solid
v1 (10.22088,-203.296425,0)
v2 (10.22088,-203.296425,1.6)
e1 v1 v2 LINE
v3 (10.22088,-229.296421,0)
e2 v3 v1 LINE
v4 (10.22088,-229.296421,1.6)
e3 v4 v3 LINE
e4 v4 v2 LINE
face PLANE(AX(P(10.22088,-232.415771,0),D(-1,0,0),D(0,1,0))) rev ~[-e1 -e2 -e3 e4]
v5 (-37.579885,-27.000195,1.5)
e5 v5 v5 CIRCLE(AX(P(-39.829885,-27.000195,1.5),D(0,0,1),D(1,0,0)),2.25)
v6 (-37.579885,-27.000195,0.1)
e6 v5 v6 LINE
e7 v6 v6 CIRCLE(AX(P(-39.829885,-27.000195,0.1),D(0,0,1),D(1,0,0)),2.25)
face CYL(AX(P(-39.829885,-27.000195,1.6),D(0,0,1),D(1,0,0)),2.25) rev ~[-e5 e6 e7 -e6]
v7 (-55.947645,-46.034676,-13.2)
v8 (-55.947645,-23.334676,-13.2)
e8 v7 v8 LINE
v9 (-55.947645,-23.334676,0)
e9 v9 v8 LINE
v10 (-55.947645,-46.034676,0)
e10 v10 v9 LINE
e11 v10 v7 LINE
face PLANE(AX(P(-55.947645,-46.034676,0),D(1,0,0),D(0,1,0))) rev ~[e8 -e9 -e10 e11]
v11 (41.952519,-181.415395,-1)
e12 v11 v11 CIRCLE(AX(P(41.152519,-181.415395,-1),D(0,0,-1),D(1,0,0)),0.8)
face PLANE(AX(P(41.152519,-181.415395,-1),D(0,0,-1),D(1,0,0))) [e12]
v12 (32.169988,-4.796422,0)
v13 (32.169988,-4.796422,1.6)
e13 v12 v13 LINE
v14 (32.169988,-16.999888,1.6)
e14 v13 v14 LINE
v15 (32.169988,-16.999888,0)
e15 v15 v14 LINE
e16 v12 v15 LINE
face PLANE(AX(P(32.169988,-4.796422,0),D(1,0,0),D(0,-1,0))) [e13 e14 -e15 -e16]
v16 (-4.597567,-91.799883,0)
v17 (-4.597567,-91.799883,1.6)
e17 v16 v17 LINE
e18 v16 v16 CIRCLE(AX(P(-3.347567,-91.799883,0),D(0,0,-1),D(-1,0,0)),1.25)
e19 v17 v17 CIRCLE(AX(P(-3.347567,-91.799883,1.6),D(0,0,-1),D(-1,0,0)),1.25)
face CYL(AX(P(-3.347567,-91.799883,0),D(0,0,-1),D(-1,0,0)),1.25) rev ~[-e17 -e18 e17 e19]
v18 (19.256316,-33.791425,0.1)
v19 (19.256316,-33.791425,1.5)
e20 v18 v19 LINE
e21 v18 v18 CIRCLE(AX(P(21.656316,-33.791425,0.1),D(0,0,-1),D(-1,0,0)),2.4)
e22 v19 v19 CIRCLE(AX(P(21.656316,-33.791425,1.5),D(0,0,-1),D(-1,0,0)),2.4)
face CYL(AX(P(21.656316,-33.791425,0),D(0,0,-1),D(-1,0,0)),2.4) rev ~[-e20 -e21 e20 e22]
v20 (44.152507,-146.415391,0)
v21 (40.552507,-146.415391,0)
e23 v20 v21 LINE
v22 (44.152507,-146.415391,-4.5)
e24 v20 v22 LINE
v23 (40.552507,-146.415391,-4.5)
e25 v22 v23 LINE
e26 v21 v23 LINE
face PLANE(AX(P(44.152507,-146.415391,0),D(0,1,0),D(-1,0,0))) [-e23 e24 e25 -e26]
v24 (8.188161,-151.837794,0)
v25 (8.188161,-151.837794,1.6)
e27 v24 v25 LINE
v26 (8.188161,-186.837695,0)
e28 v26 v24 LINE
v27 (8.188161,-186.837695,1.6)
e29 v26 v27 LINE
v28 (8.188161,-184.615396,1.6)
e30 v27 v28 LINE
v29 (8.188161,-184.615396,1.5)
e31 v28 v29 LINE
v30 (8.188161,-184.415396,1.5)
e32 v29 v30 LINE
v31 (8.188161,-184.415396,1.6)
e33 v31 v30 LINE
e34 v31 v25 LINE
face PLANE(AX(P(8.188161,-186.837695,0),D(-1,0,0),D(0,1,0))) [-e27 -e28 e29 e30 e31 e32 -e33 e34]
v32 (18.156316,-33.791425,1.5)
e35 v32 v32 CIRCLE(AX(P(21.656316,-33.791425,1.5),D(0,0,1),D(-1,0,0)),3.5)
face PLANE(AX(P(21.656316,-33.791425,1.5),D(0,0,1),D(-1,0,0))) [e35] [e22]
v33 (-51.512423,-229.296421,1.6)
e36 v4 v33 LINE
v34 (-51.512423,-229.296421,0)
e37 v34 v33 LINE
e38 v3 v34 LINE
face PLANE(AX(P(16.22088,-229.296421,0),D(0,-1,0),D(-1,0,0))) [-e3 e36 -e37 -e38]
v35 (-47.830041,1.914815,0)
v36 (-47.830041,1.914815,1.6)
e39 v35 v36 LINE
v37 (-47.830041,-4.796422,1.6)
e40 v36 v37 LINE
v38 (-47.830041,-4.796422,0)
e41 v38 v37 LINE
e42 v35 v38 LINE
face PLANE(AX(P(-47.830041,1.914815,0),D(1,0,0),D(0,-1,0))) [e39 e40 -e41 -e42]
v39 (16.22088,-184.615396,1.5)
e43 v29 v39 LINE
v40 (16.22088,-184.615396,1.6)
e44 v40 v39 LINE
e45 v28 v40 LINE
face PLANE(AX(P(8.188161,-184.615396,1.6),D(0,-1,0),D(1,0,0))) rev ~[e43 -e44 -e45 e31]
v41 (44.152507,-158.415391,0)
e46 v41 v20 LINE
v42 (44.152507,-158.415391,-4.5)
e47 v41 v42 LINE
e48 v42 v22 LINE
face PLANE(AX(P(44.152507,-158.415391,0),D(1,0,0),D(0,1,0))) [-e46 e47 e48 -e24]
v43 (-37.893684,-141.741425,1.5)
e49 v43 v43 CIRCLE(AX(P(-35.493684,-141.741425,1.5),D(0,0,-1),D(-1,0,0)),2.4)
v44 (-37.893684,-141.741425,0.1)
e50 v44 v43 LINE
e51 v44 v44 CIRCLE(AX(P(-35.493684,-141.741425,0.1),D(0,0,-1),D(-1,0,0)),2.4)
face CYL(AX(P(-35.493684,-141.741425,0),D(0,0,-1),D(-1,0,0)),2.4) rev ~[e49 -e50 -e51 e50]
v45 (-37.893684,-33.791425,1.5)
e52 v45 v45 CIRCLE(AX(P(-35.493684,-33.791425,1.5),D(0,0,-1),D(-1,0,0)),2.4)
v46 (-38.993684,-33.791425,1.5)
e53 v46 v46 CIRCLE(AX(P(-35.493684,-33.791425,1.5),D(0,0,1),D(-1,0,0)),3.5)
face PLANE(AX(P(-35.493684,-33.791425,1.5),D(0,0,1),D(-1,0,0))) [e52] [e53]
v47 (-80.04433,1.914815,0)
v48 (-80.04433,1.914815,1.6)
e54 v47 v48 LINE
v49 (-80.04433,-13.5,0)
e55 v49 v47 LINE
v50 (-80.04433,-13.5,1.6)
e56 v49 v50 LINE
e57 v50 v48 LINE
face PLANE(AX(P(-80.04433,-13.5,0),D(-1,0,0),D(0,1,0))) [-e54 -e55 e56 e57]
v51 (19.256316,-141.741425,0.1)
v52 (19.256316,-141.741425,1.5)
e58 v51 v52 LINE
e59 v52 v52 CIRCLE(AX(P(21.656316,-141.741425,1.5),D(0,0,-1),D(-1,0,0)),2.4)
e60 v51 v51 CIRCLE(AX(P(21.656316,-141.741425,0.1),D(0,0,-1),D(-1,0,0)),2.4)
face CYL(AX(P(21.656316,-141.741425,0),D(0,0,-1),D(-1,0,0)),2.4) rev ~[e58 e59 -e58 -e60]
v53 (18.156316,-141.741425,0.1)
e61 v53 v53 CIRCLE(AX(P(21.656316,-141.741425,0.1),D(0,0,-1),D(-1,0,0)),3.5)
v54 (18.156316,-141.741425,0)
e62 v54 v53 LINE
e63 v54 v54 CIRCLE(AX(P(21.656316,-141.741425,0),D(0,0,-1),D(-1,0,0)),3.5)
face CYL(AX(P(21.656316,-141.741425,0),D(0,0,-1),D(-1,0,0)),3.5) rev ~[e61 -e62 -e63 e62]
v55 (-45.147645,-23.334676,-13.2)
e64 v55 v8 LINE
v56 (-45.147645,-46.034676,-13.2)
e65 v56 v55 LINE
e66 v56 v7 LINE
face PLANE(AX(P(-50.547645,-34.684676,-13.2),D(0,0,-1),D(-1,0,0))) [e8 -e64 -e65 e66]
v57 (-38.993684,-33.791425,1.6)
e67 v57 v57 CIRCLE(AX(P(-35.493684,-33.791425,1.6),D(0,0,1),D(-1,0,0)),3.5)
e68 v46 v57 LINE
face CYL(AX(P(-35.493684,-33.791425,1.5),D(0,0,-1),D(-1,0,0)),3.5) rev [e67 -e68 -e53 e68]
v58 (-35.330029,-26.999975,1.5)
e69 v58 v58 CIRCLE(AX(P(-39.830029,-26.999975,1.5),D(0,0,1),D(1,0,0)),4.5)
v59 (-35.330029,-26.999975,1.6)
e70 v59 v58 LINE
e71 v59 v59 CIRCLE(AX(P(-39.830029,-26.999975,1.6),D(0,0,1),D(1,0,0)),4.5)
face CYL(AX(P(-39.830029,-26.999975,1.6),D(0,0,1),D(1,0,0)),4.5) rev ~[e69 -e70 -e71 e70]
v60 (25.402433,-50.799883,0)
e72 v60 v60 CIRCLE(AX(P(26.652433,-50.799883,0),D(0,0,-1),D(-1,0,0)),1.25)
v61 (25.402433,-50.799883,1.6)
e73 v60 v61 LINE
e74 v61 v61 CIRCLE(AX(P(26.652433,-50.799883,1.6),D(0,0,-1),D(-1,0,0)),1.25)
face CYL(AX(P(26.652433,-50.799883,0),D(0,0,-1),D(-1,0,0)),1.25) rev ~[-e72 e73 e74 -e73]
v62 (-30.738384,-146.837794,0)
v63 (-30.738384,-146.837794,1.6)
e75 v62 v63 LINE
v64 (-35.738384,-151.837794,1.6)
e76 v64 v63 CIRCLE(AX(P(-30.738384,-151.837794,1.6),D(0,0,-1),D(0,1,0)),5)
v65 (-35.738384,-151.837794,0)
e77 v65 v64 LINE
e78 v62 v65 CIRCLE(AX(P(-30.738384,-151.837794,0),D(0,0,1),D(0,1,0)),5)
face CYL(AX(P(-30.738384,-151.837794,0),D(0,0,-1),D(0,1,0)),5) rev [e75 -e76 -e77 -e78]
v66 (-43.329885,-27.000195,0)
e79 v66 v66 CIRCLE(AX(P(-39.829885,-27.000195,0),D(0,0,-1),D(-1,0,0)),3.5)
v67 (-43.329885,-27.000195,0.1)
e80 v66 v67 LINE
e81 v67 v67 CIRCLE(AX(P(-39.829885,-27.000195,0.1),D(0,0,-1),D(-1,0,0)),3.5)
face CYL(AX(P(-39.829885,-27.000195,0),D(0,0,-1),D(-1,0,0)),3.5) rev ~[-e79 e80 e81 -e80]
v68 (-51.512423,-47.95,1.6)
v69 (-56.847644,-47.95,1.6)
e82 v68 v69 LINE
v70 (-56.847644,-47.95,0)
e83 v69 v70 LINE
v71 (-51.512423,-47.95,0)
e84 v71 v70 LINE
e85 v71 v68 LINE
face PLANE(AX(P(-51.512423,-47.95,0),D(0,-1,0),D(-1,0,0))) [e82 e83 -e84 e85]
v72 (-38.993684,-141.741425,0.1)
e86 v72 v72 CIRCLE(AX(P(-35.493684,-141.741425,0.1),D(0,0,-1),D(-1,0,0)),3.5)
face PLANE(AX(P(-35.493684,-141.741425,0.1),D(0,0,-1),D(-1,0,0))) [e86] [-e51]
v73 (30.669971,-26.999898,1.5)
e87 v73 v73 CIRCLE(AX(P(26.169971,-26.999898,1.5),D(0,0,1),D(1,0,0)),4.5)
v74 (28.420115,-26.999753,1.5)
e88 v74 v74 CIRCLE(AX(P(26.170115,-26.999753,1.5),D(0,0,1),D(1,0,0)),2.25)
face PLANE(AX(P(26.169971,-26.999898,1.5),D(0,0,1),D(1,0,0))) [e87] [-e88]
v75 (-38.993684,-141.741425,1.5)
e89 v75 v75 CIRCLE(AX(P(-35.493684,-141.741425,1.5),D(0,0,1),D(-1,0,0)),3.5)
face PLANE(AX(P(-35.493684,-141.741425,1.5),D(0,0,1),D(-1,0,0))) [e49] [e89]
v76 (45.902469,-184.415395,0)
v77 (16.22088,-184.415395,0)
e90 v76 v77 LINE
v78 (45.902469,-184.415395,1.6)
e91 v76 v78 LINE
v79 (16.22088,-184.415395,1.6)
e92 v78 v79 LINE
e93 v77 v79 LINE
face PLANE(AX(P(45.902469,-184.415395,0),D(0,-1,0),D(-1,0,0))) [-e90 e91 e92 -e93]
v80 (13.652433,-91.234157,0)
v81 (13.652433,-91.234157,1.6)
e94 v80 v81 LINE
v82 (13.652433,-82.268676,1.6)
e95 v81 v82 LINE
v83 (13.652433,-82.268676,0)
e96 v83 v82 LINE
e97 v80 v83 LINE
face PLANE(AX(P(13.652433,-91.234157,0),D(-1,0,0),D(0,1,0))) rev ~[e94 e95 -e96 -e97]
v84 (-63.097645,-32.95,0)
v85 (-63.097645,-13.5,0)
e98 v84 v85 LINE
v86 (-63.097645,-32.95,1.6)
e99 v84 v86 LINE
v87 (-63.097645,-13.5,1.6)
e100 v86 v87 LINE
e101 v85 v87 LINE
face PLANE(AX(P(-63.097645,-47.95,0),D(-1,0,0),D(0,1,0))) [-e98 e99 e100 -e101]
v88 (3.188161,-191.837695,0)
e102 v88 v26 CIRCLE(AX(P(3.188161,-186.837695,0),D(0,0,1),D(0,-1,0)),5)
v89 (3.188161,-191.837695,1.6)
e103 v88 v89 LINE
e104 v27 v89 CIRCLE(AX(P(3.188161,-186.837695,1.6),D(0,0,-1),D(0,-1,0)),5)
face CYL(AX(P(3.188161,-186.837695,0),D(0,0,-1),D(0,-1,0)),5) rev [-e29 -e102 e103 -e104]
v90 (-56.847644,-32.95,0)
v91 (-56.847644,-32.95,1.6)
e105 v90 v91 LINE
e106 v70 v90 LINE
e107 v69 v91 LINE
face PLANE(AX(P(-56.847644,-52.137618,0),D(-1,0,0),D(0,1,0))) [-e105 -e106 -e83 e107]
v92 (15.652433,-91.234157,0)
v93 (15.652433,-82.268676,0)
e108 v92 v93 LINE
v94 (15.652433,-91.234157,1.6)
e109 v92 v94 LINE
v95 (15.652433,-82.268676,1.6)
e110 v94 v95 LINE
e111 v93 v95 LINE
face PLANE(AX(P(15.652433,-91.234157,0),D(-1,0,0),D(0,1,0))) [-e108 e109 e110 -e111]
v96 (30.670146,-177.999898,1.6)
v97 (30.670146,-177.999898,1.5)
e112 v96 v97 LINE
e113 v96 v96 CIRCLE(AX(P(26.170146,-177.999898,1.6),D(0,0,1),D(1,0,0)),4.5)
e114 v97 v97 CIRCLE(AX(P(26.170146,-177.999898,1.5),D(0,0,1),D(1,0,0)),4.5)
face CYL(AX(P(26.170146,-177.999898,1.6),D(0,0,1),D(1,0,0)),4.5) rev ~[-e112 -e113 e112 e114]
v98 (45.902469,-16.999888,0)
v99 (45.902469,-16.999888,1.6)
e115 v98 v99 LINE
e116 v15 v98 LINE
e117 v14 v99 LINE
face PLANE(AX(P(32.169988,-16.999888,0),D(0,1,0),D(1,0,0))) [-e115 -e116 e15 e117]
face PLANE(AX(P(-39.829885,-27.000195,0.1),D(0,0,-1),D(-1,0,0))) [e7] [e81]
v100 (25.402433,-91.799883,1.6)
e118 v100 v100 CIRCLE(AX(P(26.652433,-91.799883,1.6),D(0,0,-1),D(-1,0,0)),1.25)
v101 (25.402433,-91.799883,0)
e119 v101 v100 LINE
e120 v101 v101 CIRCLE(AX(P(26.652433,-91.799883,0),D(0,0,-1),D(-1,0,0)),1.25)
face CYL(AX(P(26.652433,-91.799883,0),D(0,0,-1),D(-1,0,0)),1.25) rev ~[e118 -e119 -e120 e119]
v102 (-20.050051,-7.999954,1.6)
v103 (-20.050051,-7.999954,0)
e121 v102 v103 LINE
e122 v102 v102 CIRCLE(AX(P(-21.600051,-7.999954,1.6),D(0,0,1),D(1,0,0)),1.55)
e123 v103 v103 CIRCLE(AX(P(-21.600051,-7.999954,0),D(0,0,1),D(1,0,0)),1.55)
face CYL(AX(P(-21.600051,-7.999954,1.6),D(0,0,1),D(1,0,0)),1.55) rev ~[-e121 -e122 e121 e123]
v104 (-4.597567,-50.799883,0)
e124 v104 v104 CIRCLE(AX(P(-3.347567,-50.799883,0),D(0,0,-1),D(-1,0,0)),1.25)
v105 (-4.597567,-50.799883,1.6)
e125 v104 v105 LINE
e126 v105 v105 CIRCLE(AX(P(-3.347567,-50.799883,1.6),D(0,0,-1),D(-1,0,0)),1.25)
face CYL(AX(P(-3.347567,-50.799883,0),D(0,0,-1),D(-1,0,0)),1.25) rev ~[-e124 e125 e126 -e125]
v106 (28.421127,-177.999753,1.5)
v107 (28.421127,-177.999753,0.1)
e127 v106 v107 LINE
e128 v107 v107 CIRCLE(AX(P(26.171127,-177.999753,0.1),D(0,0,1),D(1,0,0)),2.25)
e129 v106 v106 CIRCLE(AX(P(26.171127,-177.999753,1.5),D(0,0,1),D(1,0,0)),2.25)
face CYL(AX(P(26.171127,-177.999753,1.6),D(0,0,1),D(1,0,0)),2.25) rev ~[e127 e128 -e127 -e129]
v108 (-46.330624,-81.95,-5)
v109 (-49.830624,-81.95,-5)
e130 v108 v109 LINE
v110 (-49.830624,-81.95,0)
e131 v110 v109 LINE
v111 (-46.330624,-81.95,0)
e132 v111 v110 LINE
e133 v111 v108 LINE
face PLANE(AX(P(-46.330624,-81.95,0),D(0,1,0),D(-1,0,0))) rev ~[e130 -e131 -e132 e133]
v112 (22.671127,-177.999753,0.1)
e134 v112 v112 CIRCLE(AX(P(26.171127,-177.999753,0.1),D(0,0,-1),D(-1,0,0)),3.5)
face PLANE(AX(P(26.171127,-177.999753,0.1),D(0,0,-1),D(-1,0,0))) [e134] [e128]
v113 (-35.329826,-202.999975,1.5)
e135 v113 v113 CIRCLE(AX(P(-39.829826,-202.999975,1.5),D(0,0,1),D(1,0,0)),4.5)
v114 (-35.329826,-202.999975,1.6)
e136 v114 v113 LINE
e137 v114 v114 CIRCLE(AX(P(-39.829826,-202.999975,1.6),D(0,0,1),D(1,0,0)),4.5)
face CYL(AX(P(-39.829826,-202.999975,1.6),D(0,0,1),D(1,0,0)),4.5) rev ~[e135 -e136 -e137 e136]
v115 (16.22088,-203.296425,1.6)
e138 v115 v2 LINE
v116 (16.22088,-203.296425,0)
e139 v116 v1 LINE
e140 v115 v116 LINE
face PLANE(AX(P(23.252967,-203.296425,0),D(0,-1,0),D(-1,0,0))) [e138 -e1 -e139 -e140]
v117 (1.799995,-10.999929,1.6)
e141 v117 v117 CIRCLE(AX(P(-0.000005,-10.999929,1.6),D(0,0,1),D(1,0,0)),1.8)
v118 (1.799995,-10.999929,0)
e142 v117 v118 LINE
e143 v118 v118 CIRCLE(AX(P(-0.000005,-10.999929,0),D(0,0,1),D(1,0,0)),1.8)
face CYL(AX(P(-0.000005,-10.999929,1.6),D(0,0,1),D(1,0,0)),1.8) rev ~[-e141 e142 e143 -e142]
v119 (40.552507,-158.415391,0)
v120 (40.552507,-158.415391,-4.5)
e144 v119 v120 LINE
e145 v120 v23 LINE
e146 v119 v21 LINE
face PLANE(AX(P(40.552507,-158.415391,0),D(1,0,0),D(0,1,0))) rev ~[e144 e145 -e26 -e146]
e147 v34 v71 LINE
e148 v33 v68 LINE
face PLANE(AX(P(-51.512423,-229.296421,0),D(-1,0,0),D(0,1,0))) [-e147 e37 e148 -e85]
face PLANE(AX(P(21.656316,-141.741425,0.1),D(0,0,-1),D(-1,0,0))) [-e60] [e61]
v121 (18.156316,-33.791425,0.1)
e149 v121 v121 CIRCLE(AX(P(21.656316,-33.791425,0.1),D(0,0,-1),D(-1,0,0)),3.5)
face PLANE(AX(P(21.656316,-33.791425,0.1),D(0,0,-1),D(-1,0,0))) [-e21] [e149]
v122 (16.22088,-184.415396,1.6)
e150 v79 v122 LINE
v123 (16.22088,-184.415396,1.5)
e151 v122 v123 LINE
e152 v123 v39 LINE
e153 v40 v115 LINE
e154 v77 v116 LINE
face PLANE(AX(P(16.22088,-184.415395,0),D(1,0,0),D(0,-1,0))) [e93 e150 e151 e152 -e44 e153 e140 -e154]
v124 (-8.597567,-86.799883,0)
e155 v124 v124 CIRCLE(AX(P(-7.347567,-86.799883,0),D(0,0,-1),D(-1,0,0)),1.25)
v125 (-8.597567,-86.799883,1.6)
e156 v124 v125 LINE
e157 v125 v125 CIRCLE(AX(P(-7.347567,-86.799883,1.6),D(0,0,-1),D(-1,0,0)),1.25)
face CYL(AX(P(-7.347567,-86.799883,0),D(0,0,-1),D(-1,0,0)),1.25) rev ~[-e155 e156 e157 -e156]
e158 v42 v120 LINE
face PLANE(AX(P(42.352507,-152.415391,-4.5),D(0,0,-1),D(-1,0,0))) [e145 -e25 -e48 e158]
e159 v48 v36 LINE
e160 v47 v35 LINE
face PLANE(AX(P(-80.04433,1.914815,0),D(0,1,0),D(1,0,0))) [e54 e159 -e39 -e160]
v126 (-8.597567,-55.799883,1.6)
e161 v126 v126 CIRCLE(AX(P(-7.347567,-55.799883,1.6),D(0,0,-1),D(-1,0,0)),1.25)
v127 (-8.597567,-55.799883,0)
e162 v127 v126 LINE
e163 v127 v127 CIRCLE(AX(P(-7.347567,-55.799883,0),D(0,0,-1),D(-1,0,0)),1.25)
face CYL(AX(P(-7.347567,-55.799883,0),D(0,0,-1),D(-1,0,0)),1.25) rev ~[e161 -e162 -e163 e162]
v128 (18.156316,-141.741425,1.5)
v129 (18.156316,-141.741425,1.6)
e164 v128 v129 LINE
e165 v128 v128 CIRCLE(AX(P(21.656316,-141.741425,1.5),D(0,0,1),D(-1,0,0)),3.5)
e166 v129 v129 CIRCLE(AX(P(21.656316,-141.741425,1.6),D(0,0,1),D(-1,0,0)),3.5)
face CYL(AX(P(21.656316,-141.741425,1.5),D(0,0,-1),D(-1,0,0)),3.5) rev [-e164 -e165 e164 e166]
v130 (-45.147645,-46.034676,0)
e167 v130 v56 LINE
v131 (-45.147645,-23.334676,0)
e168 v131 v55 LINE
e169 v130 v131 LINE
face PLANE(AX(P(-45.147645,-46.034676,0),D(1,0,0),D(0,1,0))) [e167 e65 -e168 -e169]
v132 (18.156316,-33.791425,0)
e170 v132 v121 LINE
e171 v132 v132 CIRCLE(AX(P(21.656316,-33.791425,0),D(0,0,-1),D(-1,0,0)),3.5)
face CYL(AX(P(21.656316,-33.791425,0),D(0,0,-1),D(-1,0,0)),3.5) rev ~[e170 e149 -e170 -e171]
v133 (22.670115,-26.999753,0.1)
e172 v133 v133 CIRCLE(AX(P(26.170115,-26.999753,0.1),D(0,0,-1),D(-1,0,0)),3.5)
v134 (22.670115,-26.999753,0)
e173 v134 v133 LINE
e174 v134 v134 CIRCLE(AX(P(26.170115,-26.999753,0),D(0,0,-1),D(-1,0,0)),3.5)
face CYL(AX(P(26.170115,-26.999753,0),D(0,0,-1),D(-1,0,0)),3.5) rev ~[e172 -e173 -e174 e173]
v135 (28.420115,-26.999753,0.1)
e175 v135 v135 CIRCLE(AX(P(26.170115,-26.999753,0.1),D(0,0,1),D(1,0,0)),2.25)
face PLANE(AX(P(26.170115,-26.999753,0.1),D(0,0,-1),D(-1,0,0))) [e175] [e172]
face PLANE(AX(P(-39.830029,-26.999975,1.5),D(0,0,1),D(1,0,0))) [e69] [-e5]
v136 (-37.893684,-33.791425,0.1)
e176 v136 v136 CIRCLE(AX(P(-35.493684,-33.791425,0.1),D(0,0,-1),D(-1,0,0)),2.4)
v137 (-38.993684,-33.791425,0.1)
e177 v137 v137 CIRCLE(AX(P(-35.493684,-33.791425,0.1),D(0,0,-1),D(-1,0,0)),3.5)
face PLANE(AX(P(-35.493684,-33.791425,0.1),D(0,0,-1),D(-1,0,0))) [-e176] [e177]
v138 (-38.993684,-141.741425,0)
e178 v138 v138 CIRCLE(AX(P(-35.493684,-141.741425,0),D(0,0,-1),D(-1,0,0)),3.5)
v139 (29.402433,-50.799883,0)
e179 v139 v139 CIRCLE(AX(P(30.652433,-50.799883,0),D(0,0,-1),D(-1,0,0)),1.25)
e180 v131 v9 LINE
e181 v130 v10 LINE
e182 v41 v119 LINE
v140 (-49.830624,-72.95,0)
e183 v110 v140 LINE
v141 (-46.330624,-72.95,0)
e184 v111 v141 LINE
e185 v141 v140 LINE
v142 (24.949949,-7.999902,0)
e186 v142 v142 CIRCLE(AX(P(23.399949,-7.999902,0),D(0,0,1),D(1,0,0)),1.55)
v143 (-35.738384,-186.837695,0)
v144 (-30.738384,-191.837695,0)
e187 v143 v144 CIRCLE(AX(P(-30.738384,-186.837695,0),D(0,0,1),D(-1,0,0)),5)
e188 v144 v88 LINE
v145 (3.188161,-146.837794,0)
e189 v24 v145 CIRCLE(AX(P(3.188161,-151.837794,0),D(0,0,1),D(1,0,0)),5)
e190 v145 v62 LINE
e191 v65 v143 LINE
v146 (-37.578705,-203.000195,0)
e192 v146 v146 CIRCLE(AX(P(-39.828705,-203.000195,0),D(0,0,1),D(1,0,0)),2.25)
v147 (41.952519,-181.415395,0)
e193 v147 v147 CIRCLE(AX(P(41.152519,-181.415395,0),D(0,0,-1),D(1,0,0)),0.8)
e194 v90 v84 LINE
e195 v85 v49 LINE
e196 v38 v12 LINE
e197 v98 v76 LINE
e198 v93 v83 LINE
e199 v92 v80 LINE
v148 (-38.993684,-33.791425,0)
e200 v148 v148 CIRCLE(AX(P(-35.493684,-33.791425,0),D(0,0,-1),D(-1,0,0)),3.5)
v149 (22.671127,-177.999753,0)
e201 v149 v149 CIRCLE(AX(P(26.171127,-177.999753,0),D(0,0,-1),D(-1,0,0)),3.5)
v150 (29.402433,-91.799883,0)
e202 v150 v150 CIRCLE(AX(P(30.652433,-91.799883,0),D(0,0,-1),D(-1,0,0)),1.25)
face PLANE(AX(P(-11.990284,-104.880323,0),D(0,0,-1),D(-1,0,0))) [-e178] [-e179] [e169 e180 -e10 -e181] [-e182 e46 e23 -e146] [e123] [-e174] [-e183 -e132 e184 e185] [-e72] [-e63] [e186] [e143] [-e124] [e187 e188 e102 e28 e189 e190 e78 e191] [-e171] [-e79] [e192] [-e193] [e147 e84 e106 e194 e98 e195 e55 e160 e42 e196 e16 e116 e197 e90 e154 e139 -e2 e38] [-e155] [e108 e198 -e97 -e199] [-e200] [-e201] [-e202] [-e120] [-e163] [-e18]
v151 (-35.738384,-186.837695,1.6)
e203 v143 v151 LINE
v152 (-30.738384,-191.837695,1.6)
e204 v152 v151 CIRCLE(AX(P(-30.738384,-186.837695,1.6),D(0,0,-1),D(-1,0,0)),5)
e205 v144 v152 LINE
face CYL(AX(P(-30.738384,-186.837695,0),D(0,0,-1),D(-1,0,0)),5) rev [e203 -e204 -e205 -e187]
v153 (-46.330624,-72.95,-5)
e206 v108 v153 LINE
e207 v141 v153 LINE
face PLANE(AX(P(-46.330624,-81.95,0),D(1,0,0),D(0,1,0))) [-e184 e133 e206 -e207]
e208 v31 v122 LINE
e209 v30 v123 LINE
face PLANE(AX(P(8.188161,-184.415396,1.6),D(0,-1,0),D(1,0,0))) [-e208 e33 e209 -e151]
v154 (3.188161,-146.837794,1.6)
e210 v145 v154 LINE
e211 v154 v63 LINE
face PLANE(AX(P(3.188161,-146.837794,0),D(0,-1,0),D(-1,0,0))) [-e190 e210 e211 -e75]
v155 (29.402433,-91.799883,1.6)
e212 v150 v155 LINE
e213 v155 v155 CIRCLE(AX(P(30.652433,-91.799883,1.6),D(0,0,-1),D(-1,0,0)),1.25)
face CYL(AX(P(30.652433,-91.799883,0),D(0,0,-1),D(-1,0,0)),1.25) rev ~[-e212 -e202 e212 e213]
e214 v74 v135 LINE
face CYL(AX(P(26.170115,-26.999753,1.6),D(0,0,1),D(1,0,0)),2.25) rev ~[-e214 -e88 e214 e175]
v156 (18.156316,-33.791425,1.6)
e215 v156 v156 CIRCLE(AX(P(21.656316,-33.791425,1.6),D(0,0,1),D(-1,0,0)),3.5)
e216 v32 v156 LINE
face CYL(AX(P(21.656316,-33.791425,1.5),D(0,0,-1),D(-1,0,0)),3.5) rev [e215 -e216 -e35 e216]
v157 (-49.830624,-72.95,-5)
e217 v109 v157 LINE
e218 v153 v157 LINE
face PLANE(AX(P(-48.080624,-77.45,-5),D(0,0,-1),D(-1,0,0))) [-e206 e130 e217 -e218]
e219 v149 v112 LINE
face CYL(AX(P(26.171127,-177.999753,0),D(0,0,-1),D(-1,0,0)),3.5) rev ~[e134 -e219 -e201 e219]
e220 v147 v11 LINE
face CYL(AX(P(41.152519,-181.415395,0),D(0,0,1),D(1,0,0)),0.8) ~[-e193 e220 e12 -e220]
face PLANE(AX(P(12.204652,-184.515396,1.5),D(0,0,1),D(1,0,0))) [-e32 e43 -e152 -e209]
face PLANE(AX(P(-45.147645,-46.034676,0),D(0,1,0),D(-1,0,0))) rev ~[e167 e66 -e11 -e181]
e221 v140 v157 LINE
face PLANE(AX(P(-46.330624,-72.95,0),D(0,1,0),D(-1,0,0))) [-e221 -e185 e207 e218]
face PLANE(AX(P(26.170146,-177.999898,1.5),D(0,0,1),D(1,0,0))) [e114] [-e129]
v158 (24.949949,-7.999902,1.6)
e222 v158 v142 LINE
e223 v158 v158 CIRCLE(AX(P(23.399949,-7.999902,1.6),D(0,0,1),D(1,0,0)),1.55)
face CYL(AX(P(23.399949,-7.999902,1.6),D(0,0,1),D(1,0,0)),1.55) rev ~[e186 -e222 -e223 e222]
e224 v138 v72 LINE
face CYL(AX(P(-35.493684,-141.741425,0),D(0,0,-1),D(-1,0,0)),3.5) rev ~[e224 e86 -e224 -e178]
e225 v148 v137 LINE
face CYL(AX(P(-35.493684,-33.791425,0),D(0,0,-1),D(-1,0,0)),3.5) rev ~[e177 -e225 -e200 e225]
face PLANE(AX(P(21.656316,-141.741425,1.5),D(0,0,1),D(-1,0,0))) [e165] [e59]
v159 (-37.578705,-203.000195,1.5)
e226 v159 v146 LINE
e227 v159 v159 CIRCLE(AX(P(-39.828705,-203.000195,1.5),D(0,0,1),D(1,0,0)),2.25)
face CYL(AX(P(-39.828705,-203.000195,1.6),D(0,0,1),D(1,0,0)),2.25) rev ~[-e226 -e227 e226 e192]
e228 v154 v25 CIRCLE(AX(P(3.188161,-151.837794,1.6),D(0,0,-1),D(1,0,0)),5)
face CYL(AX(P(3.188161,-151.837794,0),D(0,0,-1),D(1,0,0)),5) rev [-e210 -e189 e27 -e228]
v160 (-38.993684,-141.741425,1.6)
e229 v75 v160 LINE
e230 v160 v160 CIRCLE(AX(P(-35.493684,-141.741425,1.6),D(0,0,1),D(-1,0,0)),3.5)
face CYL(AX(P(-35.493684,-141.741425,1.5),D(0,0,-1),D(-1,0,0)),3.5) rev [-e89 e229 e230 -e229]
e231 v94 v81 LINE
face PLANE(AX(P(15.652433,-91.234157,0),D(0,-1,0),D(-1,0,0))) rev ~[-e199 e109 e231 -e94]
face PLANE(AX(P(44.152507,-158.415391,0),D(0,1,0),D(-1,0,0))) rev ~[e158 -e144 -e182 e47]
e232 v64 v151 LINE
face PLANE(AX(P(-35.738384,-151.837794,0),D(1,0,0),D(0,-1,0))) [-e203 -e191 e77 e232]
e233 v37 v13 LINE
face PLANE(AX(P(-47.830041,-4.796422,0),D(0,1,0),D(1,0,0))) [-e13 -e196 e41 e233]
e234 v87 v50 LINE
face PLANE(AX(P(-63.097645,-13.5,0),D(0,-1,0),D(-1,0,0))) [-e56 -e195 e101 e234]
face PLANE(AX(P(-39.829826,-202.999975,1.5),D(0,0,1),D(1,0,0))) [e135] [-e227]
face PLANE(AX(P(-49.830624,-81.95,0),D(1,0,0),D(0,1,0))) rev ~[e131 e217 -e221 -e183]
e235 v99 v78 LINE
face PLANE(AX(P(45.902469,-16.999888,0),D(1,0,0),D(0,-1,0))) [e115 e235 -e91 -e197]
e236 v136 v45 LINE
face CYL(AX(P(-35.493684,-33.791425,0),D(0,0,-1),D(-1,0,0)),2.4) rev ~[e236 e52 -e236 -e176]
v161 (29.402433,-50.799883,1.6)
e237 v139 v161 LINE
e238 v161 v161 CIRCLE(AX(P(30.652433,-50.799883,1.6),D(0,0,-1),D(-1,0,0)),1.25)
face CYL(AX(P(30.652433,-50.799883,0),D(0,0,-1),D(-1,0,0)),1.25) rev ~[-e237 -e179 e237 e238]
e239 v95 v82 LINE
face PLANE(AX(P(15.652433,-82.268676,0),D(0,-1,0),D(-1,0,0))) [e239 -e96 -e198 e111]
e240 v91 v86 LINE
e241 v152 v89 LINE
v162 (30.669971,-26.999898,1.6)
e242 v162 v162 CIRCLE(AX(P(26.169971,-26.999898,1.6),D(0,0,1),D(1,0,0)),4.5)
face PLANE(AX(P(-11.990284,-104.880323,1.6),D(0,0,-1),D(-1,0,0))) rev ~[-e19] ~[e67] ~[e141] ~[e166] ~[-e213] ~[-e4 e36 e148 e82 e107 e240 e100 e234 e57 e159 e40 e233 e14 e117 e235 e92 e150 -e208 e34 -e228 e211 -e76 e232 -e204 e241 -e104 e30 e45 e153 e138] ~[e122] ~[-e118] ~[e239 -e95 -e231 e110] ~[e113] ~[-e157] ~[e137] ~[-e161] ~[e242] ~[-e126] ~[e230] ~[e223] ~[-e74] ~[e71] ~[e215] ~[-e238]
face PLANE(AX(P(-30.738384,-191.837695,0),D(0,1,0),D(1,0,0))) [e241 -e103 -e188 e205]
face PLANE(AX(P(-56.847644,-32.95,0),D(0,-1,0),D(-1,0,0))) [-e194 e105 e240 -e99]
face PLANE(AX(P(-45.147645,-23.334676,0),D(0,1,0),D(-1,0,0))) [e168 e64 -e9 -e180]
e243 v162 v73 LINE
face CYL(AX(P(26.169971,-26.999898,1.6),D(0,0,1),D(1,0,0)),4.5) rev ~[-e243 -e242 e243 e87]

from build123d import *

# Parameters (mm, degrees)
EXTRUSION1_DEPTH         = 1.6
ESQUISSE3_R              = 2.4
ENL_V_MAT_EXTRU_2_DEPTH  = 3
ESQUISSE4_R              = 2.25
ENL_V_MAT_EXTRU_3_DEPTH  = 10
ENL_V_MAT_EXTRU_4_DEPTH  = 10
ESQUISSE6_R              = 1.55
ENL_V_MAT_EXTRU_5_DEPTH  = 2
ESQUISSE7_R              = 1.8
ENL_V_MAT_EXTRU_6_DEPTH  = 2
ESQUISSE8_W              = 3.6
ESQUISSE8_H              = 12
EXTRUSION2_DEPTH         = 4.5
ESQUISSE10_R             = 4.5
ENL_V_MAT_EXTRU_7_DEPTH  = 0.1
ESQUISSE19_W             = 10.8
ESQUISSE19_H             = 22.7
EXTRUSION12_DEPTH        = 13.2
ESQUISSE23_W             = 8.032982088
ESQUISSE23_H             = 0.2
ENL_V_MAT_EXTRU_10_DEPTH = 0.1
ESQUISSE26_R             = 3.5
ENL_V_MAT_EXTRU_11_DEPTH = 0.1
ENL_V_START              = -0.1
ESQUISSE27_R             = 3.5
ENL_V_MAT_EXTRU_12_DEPTH = 0.1
ESQUISSE30_R             = 0.8
EXTRUSION14_DEPTH        = 1
ESQUISSE32_W             = 13.032086964
ESQUISSE32_H             = 29.119345892
ENL_V_MAT_EXTRU_15_DEPTH = 10
ESQUISSE38_W             = 3.5
ESQUISSE38_H             = 9
EXTRUSION20_DEPTH        = 5
ESQUISSE40_R             = 1.25
ESQUISSE40_W             = 2
ESQUISSE40_H             = 8.965480912
ENL_V_MAT_EXTRU_16_DEPTH = 10
ENL_V_MAT_EXTRU_17_DEPTH = 10


with BuildPart() as part:
    # Esquisse1 → Extrusion1 (new body)
    with BuildSketch(Plane.XY):
        Polygon((45.902468776, -16.999888115), (45.902468776, -184.415394951), (16.22088018, -184.415394951), (16.22088018, -229.296420917), (-51.512423031, -229.296420917), (-51.512423031, -47.949999998), (-63.097644562, -47.949999998), (-63.097644562, -13.499999747), (-80.044329504, -13.499999747), (-80.044329504, 1.914815016), (-47.830041474, 1.914815016), (-47.830041474, -4.796422374), (32.16998758, -4.796422374), (32.16998758, -16.999888115), align=None)
    extrude(amount=EXTRUSION1_DEPTH)

    # Esquisse3 → Enlèv. mat.-Extru.2 (cut)
    with BuildSketch(Plane(origin=(0, 0, 0), x_dir=(-1, 0, 0), z_dir=(0, 0, -1))):
        with Locations((-21.656316362, -141.741425249)):
            Circle(ESQUISSE3_R)
        with Locations((35.493683638, -141.741425249)):
            Circle(ESQUISSE3_R)
        with Locations((-21.656316362, -33.791425249)):
            Circle(ESQUISSE3_R)
        with Locations((35.493683638, -33.791425249)):
            Circle(ESQUISSE3_R)
    extrude(amount=-ENL_V_MAT_EXTRU_2_DEPTH, mode=Mode.SUBTRACT)

    # Esquisse4 → Enlèv. mat.-Extru.3 (cut)
    with BuildSketch(Plane.XY.offset(1.6)):
        with Locations((26.170115332, -26.99975322)):
            Circle(ESQUISSE4_R)
        with Locations((-39.829884666, -27.000195468)):
            Circle(ESQUISSE4_R)
        with Locations((26.171127143, -177.999753216)):
            Circle(ESQUISSE4_R)
        with Locations((-39.828705337, -203.000195464)):
            Circle(ESQUISSE4_R)
    extrude(amount=-ENL_V_MAT_EXTRU_3_DEPTH, mode=Mode.SUBTRACT)

    # Esquisse5 → Enlèv. mat.-Extru.4 (cut)
    with BuildSketch(Plane(origin=(0, 0, 0), x_dir=(-1, 0, 0), z_dir=(0, 0, -1))):
        with BuildLine():
            Line((-8.188160733, -186.837695498), (-8.188160733, -151.837794325))
            ThreePointArc((-8.188160733, -151.837794325), (-6.723694639, -148.30226042), (-3.188160733, -146.837794325))
            Line((-3.188160733, -146.837794325), (30.738384276, -146.837794325))
            ThreePointArc((30.738384276, -146.837794325), (34.273918182, -148.30226042), (35.738384276, -151.837794325))
            Line((35.738384276, -151.837794325), (35.738384276, -186.837695498))
            ThreePointArc((35.738384276, -186.837695498), (34.273918182, -190.373229404), (30.738384276, -191.837695498))
            Line((30.738384276, -191.837695498), (-3.188160733, -191.837695498))
            ThreePointArc((-3.188160733, -191.837695498), (-6.723694639, -190.373229404), (-8.188160733, -186.837695498))
        make_face()
    extrude(amount=-ENL_V_MAT_EXTRU_4_DEPTH, mode=Mode.SUBTRACT)

    # Esquisse6 → Enlèv. mat.-Extru.5 (cut)
    with BuildSketch(Plane.XY.offset(1.6)):
        with Locations((23.399949199, -7.999901551)):
            Circle(ESQUISSE6_R)
        with Locations((-21.600050801, -7.999953529)):
            Circle(ESQUISSE6_R)
    extrude(amount=-ENL_V_MAT_EXTRU_5_DEPTH, mode=Mode.SUBTRACT)

    # Esquisse7 → Enlèv. mat.-Extru.6 (cut)
    with BuildSketch(Plane.XY.offset(1.6)):
        with Locations((-5.456e-06, -10.999928579)):
            Circle(ESQUISSE7_R)
    extrude(amount=-ENL_V_MAT_EXTRU_6_DEPTH, mode=Mode.SUBTRACT)

    # Esquisse8 → Extrusion2 (add)
    with BuildSketch(Plane(origin=(0, 0, 0), x_dir=(-1, 0, 0), z_dir=(0, 0, -1))):
        with Locations((-42.352506676, -152.415391345)):
            Rectangle(ESQUISSE8_W, ESQUISSE8_H)
    extrude(amount=EXTRUSION2_DEPTH)

    # Esquisse10 → Enlèv. mat.-Extru.7 (cut)
    with BuildSketch(Plane.XY.offset(1.6)):
        with Locations((26.169971141, -26.999898346)):
            Circle(ESQUISSE10_R)
        with Locations((-39.830028858, -26.999974585)):
            Circle(ESQUISSE10_R)
        with Locations((26.170145567, -177.999898346)):
            Circle(ESQUISSE10_R)
        with Locations((-39.829825555, -202.999974585)):
            Circle(ESQUISSE10_R)
    extrude(amount=-ENL_V_MAT_EXTRU_7_DEPTH, mode=Mode.SUBTRACT)

    # Esquisse19 → Extrusion12 (add)
    with BuildSketch(Plane(origin=(0, 0, 0), x_dir=(-1, 0, 0), z_dir=(0, 0, -1))):
        with Locations((50.547644562, -34.684676228)):
            Rectangle(ESQUISSE19_W, ESQUISSE19_H)
    extrude(amount=EXTRUSION12_DEPTH)

    # Esquisse23 → Enlèv. mat.-Extru.10 (cut)
    with BuildSketch(Plane.XY.offset(1.6)):
        with Locations((12.204651777, -184.515396319)):
            Rectangle(ESQUISSE23_W, ESQUISSE23_H)
    extrude(amount=-ENL_V_MAT_EXTRU_10_DEPTH, mode=Mode.SUBTRACT)

    # Esquisse26 → Enlèv. mat.-Extru.11 (cut)
    with BuildSketch(Plane(origin=(0, 0, 0), x_dir=(-1, 0, 0), z_dir=(0, 0, -1))):
        with Locations((-26.171127143, -177.999753216)):
            Circle(ESQUISSE26_R)
        with Locations((-21.656316362, -141.741425249)):
            Circle(ESQUISSE26_R)
        with Locations((35.493683638, -141.741425249)):
            Circle(ESQUISSE26_R)
        with Locations((-26.170115332, -26.99975322)):
            Circle(ESQUISSE26_R)
        with Locations((-21.656316362, -33.791425249)):
            Circle(ESQUISSE26_R)
        with Locations((35.493683638, -33.791425249)):
            Circle(ESQUISSE26_R)
        with Locations((39.829884666, -27.000195468)):
            Circle(ESQUISSE26_R)
    extrude(amount=-ENL_V_MAT_EXTRU_11_DEPTH, mode=Mode.SUBTRACT)

    # Esquisse27 → Enlèv. mat.-Extru.12 (cut)
    with BuildSketch(Plane.XY.offset(1.6).offset(ENL_V_START)):
        with Locations((-35.493683638, -33.791425249)):
            Circle(ESQUISSE27_R)
        with Locations((21.656316362, -33.791425249)):
            Circle(ESQUISSE27_R)
        with Locations((-35.493683638, -141.741425249)):
            Circle(ESQUISSE27_R)
        with Locations((21.656316362, -141.741425249)):
            Circle(ESQUISSE27_R)
    extrude(amount=ENL_V_MAT_EXTRU_12_DEPTH, mode=Mode.SUBTRACT)

    # Esquisse30 → Extrusion14 (add)
    with BuildSketch(Plane(origin=(0, 0, 0), x_dir=(-1, 0, 0), z_dir=(0, 0, -1))):
        with Locations((-41.152518707, -181.415394951)):
            Circle(ESQUISSE30_R)
    extrude(amount=EXTRUSION14_DEPTH)

    # Esquisse32 → Enlèv. mat.-Extru.15 (cut)
    with BuildSketch(Plane(origin=(0, 0, 0), x_dir=(-1, 0, 0), z_dir=(0, 0, -1))):
        with Locations((-16.736923724, -217.856098053)):
            Rectangle(ESQUISSE32_W, ESQUISSE32_H)
    extrude(amount=-ENL_V_MAT_EXTRU_15_DEPTH, mode=Mode.SUBTRACT)

    # Esquisse38 → Extrusion20 (add)
    with BuildSketch(Plane(origin=(0, 0, 0), x_dir=(-1, 0, 0), z_dir=(0, 0, -1))):
        with Locations((48.080624066, -77.449999998)):
            Rectangle(ESQUISSE38_W, ESQUISSE38_H)
    extrude(amount=EXTRUSION20_DEPTH)

    # Esquisse40 → Enlèv. mat.-Extru.16 (cut)
    with BuildSketch(Plane(origin=(0, 0, 0), x_dir=(-1, 0, 0), z_dir=(0, 0, -1))):
        with Locations((-30.652432705, -50.799882548)):
            Circle(ESQUISSE40_R)
        with Locations((-26.652432705, -50.799882548)):
            Circle(ESQUISSE40_R)
        with Locations((3.347567295, -50.799882548)):
            Circle(ESQUISSE40_R)
        with Locations((7.347567295, -55.799882548)):
            Circle(ESQUISSE40_R)
        with Locations((-30.652432705, -91.799882548)):
            Circle(ESQUISSE40_R)
        with Locations((-26.652432705, -91.799882548)):
            Circle(ESQUISSE40_R)
        with Locations((3.347567295, -91.799882548)):
            Circle(ESQUISSE40_R)
        with Locations((7.347567295, -86.799882548)):
            Circle(ESQUISSE40_R)
        with Locations((-14.652432705, -86.751416152)):
            Rectangle(ESQUISSE40_W, ESQUISSE40_H)
    extrude(amount=-ENL_V_MAT_EXTRU_16_DEPTH, mode=Mode.SUBTRACT)

    # Esquisse43 → Enlèv. mat.-Extru.17 (cut)
    with BuildSketch(Plane(origin=(0, 0, 0), x_dir=(-1, 0, 0), z_dir=(0, 0, -1))):
        Polygon((56.847644247, -52.137617645), (56.847644247, -32.949999998), (73.023827772, -32.949999998), (73.023826653, -52.137618589), align=None)
    extrude(amount=-ENL_V_MAT_EXTRU_17_DEPTH, mode=Mode.SUBTRACT)


solid = part.part
